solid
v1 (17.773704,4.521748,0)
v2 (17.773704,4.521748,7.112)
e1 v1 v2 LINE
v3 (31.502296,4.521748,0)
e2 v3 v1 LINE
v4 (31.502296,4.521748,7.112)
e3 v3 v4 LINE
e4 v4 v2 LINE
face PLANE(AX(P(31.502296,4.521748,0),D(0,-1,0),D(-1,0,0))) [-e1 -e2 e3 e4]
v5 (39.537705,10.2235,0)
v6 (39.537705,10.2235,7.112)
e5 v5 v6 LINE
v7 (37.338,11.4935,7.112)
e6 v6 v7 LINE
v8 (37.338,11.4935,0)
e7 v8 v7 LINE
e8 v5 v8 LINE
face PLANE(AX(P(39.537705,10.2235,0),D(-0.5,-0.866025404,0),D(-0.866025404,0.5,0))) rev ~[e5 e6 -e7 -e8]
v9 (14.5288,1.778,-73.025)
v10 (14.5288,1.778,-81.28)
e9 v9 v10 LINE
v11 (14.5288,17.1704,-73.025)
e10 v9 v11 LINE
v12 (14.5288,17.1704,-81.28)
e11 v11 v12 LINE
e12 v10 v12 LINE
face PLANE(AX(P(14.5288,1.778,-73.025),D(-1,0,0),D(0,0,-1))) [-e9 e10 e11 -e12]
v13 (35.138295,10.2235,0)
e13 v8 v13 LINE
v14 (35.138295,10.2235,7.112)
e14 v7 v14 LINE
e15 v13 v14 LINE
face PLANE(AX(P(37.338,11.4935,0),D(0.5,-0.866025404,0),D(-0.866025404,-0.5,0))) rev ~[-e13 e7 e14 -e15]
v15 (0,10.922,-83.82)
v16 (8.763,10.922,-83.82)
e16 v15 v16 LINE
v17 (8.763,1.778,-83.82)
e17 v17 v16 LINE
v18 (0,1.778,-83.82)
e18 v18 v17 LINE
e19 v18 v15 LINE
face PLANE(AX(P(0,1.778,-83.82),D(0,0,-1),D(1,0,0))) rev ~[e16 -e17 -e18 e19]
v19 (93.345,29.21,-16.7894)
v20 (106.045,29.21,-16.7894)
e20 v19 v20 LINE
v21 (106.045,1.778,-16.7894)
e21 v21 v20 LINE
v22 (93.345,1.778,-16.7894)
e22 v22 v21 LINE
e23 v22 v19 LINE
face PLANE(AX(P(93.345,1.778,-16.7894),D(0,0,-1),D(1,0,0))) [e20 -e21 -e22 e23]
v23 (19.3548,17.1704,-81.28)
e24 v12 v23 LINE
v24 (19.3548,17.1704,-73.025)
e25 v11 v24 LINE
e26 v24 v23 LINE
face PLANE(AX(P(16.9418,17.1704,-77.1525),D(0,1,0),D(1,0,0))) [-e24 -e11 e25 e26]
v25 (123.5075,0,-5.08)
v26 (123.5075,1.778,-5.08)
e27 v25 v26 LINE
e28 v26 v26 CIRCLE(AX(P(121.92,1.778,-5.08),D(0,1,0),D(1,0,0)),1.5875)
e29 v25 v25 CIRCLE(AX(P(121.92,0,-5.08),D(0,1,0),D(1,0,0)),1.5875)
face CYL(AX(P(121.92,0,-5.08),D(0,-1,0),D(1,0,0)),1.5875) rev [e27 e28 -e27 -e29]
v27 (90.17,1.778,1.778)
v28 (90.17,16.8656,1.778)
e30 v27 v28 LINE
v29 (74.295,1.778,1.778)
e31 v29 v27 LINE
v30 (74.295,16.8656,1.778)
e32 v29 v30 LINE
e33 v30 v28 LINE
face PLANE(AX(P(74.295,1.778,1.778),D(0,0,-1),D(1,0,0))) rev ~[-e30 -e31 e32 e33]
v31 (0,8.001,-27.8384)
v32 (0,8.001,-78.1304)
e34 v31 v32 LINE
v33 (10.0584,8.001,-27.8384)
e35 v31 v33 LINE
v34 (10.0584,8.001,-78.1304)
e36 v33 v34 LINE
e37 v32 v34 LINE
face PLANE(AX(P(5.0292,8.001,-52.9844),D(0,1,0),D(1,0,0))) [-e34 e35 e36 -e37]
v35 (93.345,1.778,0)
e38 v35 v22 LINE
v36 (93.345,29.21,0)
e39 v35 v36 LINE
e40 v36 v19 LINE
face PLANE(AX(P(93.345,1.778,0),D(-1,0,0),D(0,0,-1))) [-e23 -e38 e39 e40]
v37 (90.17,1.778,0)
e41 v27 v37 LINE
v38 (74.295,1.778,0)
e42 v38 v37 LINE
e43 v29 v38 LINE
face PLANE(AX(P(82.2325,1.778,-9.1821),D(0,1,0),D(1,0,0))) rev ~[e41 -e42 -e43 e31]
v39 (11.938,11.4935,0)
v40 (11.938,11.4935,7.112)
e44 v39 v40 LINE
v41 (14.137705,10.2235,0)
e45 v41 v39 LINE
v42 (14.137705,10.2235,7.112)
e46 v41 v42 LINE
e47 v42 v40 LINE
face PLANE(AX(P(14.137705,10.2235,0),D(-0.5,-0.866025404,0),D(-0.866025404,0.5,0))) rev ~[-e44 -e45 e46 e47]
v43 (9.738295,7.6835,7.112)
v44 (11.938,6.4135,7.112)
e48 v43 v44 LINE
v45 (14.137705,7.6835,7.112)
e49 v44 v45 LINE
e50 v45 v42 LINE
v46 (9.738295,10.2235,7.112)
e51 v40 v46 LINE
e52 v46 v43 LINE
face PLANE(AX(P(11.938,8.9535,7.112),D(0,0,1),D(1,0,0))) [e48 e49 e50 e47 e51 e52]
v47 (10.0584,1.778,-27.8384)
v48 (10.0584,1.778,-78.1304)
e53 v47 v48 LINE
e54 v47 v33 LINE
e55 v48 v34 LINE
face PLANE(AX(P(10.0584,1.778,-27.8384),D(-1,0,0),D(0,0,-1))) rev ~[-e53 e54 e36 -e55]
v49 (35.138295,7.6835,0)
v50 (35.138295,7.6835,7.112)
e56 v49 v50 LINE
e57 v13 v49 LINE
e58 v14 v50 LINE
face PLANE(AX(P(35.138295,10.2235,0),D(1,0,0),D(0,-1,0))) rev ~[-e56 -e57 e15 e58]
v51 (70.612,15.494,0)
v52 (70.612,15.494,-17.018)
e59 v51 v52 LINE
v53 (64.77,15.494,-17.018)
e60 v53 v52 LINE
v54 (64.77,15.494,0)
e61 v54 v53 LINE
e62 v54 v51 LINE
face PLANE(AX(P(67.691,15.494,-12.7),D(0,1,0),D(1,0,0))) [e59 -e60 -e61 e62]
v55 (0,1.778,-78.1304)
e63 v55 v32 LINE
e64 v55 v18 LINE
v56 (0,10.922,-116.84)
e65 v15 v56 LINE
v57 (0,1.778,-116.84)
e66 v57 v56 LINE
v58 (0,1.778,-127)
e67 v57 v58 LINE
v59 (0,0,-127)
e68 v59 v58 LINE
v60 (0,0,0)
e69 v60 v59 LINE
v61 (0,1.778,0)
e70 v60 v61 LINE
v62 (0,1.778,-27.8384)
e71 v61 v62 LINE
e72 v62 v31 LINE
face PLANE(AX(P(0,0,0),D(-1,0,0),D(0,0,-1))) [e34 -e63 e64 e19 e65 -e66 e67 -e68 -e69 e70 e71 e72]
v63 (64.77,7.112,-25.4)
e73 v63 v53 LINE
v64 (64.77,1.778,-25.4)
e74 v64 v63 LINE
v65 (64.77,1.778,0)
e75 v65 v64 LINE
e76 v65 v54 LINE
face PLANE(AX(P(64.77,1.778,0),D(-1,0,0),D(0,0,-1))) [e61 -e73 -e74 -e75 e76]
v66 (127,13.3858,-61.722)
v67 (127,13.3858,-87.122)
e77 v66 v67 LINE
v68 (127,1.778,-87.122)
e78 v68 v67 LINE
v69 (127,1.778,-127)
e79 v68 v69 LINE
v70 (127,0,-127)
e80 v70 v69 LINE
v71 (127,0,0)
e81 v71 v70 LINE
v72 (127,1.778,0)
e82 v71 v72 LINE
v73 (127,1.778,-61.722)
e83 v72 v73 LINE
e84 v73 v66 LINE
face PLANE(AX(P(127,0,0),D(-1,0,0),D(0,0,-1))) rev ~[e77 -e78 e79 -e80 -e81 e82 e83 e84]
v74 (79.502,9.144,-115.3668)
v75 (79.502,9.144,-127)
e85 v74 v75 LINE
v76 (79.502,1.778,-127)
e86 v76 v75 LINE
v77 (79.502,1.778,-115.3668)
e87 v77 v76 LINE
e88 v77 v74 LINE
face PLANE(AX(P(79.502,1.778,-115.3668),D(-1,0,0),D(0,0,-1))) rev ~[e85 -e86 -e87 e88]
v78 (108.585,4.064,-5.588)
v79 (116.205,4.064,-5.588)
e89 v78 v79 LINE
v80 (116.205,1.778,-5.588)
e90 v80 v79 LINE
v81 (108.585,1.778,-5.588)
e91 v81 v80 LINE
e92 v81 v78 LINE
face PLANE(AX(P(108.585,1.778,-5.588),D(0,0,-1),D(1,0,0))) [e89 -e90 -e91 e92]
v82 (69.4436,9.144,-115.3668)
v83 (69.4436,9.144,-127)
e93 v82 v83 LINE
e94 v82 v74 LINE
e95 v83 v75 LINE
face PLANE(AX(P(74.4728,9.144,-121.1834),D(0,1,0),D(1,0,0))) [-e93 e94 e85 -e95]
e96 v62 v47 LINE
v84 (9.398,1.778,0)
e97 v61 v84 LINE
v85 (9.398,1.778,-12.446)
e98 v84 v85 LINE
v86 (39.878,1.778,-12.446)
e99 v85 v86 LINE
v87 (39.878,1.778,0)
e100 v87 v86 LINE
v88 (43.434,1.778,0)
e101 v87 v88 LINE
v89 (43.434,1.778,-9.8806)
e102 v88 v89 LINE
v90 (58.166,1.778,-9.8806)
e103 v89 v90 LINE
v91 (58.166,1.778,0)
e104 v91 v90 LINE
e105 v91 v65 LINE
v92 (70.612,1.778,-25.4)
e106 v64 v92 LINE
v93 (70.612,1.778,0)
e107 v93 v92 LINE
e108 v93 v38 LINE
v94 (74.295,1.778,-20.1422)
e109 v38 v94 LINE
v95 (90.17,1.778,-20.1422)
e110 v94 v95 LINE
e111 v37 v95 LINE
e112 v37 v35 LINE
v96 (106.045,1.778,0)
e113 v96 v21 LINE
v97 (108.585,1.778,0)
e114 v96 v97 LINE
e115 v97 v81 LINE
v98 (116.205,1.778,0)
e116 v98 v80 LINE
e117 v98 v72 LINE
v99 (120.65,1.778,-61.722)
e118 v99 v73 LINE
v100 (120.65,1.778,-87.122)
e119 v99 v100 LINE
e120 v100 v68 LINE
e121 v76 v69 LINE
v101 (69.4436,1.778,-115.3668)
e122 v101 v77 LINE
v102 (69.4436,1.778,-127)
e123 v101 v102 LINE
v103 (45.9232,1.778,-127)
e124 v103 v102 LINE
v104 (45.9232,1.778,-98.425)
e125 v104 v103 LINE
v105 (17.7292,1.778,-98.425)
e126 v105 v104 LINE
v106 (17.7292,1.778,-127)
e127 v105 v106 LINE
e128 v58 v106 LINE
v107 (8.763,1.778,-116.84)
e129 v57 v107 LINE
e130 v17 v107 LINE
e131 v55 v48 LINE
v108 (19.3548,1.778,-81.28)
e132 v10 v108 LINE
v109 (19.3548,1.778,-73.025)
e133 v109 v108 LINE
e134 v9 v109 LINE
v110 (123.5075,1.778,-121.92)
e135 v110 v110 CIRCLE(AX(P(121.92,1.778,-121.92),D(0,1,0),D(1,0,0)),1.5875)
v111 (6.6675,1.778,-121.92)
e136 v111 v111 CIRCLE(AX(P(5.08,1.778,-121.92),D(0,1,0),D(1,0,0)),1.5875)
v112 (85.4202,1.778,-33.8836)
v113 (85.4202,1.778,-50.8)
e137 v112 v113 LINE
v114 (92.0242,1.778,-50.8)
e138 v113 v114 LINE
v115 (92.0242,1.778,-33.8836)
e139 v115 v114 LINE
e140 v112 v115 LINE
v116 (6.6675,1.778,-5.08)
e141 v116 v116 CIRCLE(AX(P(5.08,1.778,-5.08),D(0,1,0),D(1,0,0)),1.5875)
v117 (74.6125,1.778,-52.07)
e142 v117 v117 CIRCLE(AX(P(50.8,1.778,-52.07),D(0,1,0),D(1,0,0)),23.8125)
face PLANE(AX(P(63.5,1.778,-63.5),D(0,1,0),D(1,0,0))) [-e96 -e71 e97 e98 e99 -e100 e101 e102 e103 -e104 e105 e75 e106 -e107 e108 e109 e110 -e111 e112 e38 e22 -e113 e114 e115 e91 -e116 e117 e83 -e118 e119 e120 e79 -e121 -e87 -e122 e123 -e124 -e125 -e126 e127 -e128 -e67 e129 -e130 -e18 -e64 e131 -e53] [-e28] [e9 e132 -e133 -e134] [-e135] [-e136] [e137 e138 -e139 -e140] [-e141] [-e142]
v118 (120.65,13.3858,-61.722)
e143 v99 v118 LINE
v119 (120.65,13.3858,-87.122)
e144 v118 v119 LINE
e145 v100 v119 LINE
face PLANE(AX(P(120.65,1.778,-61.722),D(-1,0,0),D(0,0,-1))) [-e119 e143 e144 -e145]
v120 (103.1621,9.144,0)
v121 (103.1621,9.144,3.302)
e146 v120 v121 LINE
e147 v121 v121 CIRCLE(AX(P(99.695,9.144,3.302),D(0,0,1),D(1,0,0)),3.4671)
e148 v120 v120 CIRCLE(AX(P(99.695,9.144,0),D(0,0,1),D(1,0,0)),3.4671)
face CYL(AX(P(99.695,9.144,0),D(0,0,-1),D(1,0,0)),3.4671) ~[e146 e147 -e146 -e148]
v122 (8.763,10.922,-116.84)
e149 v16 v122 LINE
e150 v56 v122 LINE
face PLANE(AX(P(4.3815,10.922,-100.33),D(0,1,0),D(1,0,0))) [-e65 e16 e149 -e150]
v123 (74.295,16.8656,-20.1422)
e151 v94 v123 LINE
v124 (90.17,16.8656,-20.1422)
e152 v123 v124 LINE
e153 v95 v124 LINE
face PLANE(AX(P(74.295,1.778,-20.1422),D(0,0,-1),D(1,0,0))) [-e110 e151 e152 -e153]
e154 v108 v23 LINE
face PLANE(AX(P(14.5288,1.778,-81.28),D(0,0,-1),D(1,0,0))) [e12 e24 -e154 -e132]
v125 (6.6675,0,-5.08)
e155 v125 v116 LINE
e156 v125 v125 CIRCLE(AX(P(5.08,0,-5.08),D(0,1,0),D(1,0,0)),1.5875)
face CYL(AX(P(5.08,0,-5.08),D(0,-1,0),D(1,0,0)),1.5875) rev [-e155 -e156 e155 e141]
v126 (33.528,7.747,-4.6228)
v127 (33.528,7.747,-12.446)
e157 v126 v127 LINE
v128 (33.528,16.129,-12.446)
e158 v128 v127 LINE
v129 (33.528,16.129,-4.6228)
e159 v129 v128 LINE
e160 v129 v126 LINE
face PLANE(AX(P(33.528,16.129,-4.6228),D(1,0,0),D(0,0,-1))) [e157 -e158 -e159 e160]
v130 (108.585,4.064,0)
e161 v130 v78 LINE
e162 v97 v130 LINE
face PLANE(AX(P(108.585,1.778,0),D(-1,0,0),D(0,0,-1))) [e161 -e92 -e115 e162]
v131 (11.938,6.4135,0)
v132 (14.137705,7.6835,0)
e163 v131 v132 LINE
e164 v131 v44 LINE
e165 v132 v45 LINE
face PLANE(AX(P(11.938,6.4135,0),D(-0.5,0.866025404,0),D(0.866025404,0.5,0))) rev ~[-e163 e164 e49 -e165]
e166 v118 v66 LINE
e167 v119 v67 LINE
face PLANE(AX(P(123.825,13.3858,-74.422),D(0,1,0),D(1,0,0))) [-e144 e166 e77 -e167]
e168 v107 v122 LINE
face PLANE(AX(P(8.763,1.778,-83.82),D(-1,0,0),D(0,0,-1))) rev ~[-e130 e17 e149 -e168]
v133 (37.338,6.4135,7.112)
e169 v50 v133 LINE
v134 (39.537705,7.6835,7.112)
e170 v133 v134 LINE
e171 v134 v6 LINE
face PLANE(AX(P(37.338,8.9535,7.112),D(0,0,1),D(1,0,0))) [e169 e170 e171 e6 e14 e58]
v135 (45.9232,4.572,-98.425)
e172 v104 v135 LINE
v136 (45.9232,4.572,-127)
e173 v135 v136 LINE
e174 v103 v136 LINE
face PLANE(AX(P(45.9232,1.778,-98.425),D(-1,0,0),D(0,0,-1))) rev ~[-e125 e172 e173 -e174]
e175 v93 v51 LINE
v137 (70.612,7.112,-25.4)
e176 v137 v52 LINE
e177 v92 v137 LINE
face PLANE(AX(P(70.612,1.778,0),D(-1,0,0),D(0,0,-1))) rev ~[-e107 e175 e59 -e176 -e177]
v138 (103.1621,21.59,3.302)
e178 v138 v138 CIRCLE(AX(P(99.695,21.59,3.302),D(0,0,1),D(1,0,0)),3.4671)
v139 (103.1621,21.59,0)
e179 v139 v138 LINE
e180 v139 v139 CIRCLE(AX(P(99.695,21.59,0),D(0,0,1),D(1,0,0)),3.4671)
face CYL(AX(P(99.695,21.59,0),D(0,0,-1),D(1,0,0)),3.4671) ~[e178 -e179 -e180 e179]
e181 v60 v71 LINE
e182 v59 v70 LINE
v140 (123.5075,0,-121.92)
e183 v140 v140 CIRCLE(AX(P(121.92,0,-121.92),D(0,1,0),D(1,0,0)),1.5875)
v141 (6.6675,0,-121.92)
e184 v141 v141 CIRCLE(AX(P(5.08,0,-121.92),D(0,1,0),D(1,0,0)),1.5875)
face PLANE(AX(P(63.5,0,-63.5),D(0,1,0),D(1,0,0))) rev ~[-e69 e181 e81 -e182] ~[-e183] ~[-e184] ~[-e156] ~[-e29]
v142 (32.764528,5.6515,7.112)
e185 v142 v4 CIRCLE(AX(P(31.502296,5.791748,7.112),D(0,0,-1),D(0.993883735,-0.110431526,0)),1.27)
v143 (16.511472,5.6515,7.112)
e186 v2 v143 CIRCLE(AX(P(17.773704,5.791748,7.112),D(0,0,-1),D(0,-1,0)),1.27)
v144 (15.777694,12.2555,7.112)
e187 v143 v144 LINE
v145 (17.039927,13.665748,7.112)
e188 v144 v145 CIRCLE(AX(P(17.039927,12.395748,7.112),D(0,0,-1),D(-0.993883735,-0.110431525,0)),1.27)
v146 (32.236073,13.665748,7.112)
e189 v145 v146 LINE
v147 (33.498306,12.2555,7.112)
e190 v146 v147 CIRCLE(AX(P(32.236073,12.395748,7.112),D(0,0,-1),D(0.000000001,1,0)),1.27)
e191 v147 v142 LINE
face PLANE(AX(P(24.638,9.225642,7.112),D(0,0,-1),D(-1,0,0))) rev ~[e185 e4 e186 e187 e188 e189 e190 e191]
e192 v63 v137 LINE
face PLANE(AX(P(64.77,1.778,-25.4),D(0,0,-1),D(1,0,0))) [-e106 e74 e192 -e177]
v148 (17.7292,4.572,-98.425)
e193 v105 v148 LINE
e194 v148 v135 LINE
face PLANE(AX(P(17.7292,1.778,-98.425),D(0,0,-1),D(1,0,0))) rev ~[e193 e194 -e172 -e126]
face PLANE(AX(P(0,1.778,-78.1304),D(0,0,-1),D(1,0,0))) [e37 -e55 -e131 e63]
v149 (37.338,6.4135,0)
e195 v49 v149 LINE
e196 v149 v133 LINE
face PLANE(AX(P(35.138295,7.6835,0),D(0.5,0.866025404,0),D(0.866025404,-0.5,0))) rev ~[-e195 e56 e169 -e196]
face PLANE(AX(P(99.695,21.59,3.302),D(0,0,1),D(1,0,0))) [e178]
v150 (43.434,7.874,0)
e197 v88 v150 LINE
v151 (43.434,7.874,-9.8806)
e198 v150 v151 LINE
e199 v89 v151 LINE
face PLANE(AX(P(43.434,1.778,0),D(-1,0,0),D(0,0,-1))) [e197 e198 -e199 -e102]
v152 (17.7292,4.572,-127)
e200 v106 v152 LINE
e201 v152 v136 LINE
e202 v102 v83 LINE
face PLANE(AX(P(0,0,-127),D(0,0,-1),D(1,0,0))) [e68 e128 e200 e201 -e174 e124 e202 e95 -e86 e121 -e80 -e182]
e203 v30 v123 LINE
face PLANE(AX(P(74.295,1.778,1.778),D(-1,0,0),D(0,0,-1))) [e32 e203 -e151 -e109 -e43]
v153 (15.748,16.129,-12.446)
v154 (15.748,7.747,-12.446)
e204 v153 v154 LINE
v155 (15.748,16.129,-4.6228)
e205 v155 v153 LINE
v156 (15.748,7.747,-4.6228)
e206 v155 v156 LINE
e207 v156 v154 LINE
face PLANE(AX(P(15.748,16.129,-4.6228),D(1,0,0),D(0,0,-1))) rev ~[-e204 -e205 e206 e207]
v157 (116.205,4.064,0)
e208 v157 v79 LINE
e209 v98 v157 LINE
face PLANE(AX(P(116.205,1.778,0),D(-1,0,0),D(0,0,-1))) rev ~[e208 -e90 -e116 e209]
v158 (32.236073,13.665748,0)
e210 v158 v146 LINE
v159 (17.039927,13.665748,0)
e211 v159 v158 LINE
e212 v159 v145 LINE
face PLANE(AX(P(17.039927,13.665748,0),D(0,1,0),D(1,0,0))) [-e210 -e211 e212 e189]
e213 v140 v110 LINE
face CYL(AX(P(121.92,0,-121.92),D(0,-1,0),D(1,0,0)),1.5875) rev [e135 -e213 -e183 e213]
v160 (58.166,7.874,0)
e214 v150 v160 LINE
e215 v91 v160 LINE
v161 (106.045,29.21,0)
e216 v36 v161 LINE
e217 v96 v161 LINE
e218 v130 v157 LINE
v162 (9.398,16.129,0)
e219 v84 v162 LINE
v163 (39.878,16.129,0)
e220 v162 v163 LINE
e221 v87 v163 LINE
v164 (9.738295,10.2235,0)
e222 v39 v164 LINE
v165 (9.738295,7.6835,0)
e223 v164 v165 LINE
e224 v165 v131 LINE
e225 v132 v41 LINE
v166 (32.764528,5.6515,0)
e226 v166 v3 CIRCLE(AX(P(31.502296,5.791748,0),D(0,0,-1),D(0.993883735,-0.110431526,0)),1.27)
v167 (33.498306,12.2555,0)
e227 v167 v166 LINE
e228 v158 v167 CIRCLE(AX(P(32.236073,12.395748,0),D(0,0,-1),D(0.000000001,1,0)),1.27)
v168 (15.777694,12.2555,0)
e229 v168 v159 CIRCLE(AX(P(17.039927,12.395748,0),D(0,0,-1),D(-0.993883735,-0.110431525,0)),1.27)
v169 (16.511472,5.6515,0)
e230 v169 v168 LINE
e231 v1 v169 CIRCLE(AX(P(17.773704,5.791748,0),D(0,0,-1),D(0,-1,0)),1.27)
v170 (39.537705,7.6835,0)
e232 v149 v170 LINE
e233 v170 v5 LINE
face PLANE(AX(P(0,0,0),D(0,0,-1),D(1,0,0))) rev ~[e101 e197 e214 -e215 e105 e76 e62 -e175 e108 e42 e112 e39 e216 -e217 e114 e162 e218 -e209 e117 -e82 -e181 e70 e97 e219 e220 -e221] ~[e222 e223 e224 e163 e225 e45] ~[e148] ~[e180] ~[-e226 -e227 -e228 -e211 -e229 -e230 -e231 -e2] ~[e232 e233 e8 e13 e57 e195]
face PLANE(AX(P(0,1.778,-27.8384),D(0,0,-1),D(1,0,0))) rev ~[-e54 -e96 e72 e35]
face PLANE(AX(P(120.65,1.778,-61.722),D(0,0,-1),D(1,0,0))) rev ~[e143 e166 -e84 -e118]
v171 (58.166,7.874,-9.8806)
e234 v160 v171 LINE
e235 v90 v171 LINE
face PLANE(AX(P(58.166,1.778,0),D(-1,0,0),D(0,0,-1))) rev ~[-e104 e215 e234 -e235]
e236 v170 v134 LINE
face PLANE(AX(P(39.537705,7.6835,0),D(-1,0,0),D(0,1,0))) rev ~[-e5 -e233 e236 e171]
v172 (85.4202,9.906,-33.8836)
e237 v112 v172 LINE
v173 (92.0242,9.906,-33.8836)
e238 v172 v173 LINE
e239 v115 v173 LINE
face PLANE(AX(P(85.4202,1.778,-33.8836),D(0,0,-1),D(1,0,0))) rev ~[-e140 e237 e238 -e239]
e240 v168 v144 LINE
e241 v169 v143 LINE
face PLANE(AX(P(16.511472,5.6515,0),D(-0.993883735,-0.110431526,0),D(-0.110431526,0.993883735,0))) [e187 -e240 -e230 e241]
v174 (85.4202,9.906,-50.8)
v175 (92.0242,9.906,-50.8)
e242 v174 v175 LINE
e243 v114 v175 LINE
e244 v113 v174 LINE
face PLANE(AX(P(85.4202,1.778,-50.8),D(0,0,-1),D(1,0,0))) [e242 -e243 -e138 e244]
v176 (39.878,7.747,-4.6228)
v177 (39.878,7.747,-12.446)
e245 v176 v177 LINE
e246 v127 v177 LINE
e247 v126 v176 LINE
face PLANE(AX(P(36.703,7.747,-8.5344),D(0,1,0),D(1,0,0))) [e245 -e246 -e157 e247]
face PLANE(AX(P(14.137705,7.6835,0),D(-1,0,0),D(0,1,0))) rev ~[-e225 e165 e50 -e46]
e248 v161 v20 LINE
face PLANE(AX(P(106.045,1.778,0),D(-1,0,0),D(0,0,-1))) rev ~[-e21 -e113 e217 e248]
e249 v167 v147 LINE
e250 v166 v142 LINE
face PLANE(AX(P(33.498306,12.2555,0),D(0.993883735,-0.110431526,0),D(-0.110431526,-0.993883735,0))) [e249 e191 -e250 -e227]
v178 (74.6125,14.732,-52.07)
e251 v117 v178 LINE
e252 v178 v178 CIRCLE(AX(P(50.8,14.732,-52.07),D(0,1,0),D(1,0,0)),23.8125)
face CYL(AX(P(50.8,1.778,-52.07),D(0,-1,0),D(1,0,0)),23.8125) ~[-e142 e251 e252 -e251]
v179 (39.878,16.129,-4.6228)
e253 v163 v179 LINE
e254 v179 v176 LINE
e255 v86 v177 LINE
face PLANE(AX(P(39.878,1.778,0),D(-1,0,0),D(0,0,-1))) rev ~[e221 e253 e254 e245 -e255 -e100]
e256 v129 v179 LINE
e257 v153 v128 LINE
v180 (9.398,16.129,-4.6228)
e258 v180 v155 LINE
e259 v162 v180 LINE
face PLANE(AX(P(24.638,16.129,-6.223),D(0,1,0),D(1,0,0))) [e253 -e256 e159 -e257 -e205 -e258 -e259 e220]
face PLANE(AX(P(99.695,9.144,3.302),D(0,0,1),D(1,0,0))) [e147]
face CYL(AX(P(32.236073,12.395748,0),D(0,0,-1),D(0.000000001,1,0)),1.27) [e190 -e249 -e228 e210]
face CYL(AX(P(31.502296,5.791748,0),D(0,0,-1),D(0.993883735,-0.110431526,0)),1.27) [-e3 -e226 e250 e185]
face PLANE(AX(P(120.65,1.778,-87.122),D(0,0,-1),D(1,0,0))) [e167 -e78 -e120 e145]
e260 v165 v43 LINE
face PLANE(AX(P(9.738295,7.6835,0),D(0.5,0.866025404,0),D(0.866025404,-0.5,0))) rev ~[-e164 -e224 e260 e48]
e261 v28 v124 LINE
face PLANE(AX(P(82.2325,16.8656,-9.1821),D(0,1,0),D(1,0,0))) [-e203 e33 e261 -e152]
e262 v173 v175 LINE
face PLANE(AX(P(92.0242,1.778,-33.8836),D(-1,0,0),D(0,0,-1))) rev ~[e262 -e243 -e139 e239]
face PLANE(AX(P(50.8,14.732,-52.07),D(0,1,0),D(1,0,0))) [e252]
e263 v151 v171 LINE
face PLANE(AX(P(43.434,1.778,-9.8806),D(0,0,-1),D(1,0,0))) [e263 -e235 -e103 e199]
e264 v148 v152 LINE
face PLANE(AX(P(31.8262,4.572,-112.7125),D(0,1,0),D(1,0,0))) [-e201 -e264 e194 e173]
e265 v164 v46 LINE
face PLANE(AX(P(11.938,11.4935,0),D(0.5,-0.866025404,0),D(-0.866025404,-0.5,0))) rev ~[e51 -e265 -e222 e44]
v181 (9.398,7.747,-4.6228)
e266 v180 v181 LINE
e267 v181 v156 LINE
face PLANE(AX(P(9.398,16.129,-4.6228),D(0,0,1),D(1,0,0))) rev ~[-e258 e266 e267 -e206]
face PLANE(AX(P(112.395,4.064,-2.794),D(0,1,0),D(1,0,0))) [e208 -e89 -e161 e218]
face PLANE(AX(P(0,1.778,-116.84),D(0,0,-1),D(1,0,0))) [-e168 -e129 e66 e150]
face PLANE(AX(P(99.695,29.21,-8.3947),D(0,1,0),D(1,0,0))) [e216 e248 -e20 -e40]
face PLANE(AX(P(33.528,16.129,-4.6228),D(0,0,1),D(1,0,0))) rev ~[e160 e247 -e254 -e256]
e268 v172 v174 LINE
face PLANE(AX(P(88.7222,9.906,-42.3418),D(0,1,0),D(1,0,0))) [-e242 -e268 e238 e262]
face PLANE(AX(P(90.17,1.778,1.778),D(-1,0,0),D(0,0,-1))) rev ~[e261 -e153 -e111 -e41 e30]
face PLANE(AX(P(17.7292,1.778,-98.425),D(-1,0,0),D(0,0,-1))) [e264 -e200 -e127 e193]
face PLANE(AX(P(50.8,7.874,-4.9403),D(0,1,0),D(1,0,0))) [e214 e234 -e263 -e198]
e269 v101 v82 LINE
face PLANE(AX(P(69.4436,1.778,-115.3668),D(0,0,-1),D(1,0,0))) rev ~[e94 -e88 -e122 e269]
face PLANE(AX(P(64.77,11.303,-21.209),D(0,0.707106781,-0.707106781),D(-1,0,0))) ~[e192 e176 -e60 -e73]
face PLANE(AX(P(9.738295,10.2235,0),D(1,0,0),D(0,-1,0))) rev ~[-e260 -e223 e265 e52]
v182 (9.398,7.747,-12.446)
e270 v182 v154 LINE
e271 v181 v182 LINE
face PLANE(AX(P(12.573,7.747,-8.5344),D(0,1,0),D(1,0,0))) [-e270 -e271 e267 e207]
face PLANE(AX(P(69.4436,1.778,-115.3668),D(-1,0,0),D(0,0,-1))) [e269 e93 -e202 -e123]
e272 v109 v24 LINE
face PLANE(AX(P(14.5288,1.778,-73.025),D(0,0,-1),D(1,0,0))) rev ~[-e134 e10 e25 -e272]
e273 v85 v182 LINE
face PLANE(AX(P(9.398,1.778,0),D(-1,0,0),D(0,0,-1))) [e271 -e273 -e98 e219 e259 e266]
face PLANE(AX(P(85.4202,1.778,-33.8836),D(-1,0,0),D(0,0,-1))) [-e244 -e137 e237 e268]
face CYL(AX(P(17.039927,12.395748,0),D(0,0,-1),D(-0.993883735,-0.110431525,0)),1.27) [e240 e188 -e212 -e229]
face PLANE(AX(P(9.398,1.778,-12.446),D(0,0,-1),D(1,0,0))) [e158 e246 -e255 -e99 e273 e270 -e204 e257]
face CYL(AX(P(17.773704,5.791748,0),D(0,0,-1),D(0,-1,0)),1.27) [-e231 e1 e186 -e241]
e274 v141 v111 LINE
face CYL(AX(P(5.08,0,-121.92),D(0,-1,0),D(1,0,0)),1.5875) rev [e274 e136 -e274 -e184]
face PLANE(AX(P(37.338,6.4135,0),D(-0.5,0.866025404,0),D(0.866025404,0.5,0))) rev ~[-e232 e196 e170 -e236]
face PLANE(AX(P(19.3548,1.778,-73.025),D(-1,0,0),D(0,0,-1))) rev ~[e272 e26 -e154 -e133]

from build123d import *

# Parameters (mm, degrees)
SKETCH1_W            = 127
SKETCH1_H            = 127
SKETCH1_R            = 1.5875
BOSS_EXTRUDE1_DEPTH  = 1.778
SKETCH2_W            = 28.194
SKETCH2_H            = 28.575
BOSS_EXTRUDE2_DEPTH  = 2.794
SKETCH3_W            = 10.0584
SKETCH3_H            = 11.6332
BOSS_EXTRUDE3_DEPTH  = 7.366
SKETCH4_W            = 6.35
SKETCH4_H            = 25.4
BOSS_EXTRUDE4_DEPTH  = 11.6078
SKETCH5_W            = 8.763
SKETCH5_H            = 33.02
BOSS_EXTRUDE5_DEPTH  = 9.144
SKETCH6_W            = 10.0584
SKETCH6_H            = 50.292
BOSS_EXTRUDE6_DEPTH  = 6.223
SKETCH7_W            = 4.826
SKETCH7_H            = 8.255
BOSS_EXTRUDE7_DEPTH  = 15.3924
SKETCH8_W            = 7.62
SKETCH8_H            = 5.588
BOSS_EXTRUDE8_DEPTH  = 2.286
SKETCH9_R            = 23.8125
BOSS_EXTRUDE9_DEPTH  = 12.954
SKETCH10_W           = 12.7
SKETCH10_H           = 16.7894
BOSS_EXTRUDE10_DEPTH = 27.432
SKETCH11_R           = 3.4671
BOSS_EXTRUDE11_DEPTH = 3.302
SKETCH12_W           = 15.875
SKETCH12_H           = 21.9202
BOSS_EXTRUDE12_DEPTH = 15.0876
SKETCH13_W           = 5.842
SKETCH13_H           = 25.4
BOSS_EXTRUDE13_DEPTH = 13.716
CHAMFER1_SIZE        = 8.382
SKETCH14_W           = 14.732
SKETCH14_H           = 9.8806
BOSS_EXTRUDE14_DEPTH = 6.096
SKETCH15_W           = 6.604
SKETCH15_H           = 16.9164
BOSS_EXTRUDE15_DEPTH = 8.128
SKETCH16_W           = 30.48
SKETCH16_H           = 12.446
BOSS_EXTRUDE16_DEPTH = 14.351
SKETCH17_W           = 6.35
SKETCH17_H           = 7.8232
CUT_EXTRUDE1_DEPTH   = 8.382
BOSS_EXTRUDE17_DEPTH = 7.112


with BuildPart() as part:
    # Sketch1 → Boss-Extrude1 (new body)
    with BuildSketch(Plane(origin=(0, 0, 0), x_dir=(1, 0, 0), z_dir=(0, 1, 0))):
        with Locations((63.5, 63.5)):
            Rectangle(SKETCH1_W, SKETCH1_H)
        with Locations((5.08, 121.92)):
            Circle(SKETCH1_R, mode=Mode.SUBTRACT)
        with Locations((121.92, 121.92)):
            Circle(SKETCH1_R, mode=Mode.SUBTRACT)
        with Locations((121.92, 5.08)):
            Circle(SKETCH1_R, mode=Mode.SUBTRACT)
        with Locations((5.08, 5.08)):
            Circle(SKETCH1_R, mode=Mode.SUBTRACT)
    extrude(amount=BOSS_EXTRUDE1_DEPTH)

    # Sketch2 → Boss-Extrude2 (add)
    with BuildSketch(Plane(origin=(0, 1.778, 0), x_dir=(1, 0, 0), z_dir=(0, 1, 0))):
        with Locations((31.8262, 112.7125)):
            Rectangle(SKETCH2_W, SKETCH2_H)
    extrude(amount=BOSS_EXTRUDE2_DEPTH)

    # Sketch3 → Boss-Extrude3 (add)
    with BuildSketch(Plane(origin=(0, 1.778, 0), x_dir=(1, 0, 0), z_dir=(0, 1, 0))):
        with Locations((74.4728, 121.1834)):
            Rectangle(SKETCH3_W, SKETCH3_H)
    extrude(amount=BOSS_EXTRUDE3_DEPTH)

    # Sketch4 → Boss-Extrude4 (add)
    with BuildSketch(Plane(origin=(0, 1.778, 0), x_dir=(1, 0, 0), z_dir=(0, 1, 0))):
        with Locations((123.825, 74.422)):
            Rectangle(SKETCH4_W, SKETCH4_H)
    extrude(amount=BOSS_EXTRUDE4_DEPTH)

    # Sketch5 → Boss-Extrude5 (add)
    with BuildSketch(Plane(origin=(0, 1.778, 0), x_dir=(1, 0, 0), z_dir=(0, 1, 0))):
        with Locations((4.3815, 100.33)):
            Rectangle(SKETCH5_W, SKETCH5_H)
    extrude(amount=BOSS_EXTRUDE5_DEPTH)

    # Sketch6 → Boss-Extrude6 (add)
    with BuildSketch(Plane(origin=(0, 1.778, 0), x_dir=(1, 0, 0), z_dir=(0, 1, 0))):
        with Locations((5.0292, 52.9844)):
            Rectangle(SKETCH6_W, SKETCH6_H)
    extrude(amount=BOSS_EXTRUDE6_DEPTH)

    # Sketch7 → Boss-Extrude7 (add)
    with BuildSketch(Plane(origin=(0, 1.778, 0), x_dir=(1, 0, 0), z_dir=(0, 1, 0))):
        with Locations((16.9418, 77.1525)):
            Rectangle(SKETCH7_W, SKETCH7_H)
    extrude(amount=BOSS_EXTRUDE7_DEPTH)

    # Sketch8 → Boss-Extrude8 (add)
    with BuildSketch(Plane(origin=(0, 1.778, 0), x_dir=(1, 0, 0), z_dir=(0, 1, 0))):
        with Locations((112.395, 2.794)):
            Rectangle(SKETCH8_W, SKETCH8_H)
    extrude(amount=BOSS_EXTRUDE8_DEPTH)

    # Sketch9 → Boss-Extrude9 (add)
    with BuildSketch(Plane(origin=(0, 1.778, 0), x_dir=(1, 0, 0), z_dir=(0, 1, 0))):
        with Locations((50.8, 52.07)):
            Circle(SKETCH9_R)
    extrude(amount=BOSS_EXTRUDE9_DEPTH)

    # Sketch10 → Boss-Extrude10 (add)
    with BuildSketch(Plane(origin=(0, 1.778, 0), x_dir=(1, 0, 0), z_dir=(0, 1, 0))):
        with Locations((99.695, 8.3947)):
            Rectangle(SKETCH10_W, SKETCH10_H)
    extrude(amount=BOSS_EXTRUDE10_DEPTH)

    # Sketch11 → Boss-Extrude11 (add)
    with BuildSketch(Plane.XY):
        with Locations((99.695, 21.59)):
            Circle(SKETCH11_R)
        with Locations((99.695, 9.144)):
            Circle(SKETCH11_R)
    extrude(amount=BOSS_EXTRUDE11_DEPTH)

    # Sketch12 → Boss-Extrude12 (add)
    with BuildSketch(Plane(origin=(0, 1.778, 0), x_dir=(1, 0, 0), z_dir=(0, 1, 0))):
        with Locations((82.2325, 9.1821)):
            Rectangle(SKETCH12_W, SKETCH12_H)
    extrude(amount=BOSS_EXTRUDE12_DEPTH)

    # Sketch13 → Boss-Extrude13 (add)
    with BuildSketch(Plane(origin=(0, 1.778, 0), x_dir=(1, 0, 0), z_dir=(0, 1, 0))):
        with Locations((67.691, 12.7)):
            Rectangle(SKETCH13_W, SKETCH13_H)
    extrude(amount=BOSS_EXTRUDE13_DEPTH)

    # Chamfer1
    chamfer1_edges = [part.edges().sort_by_distance(p)[0] for p in [
        (67.691, 15.494, -25.4),
    ]]
    chamfer(chamfer1_edges, length=CHAMFER1_SIZE)

    # Sketch14 → Boss-Extrude14 (add)
    with BuildSketch(Plane(origin=(0, 1.778, 0), x_dir=(1, 0, 0), z_dir=(0, 1, 0))):
        with Locations((50.8, 4.9403)):
            Rectangle(SKETCH14_W, SKETCH14_H)
    extrude(amount=BOSS_EXTRUDE14_DEPTH)

    # Sketch15 → Boss-Extrude15 (add)
    with BuildSketch(Plane(origin=(0, 1.778, 0), x_dir=(1, 0, 0), z_dir=(0, 1, 0))):
        with Locations((88.7222, 42.3418)):
            Rectangle(SKETCH15_W, SKETCH15_H)
    extrude(amount=BOSS_EXTRUDE15_DEPTH)

    # Sketch16 → Boss-Extrude16 (add)
    with BuildSketch(Plane(origin=(0, 1.778, 0), x_dir=(1, 0, 0), z_dir=(0, 1, 0))):
        with Locations((24.638, 6.223)):
            Rectangle(SKETCH16_W, SKETCH16_H)
    extrude(amount=BOSS_EXTRUDE16_DEPTH)

    # Sketch17 → Cut-Extrude1 (cut)
    with BuildSketch(Plane(origin=(0, 16.129, 0), x_dir=(1, 0, 0), z_dir=(0, 1, 0))):
        with Locations((12.573, 8.5344)):
            Rectangle(SKETCH17_W, SKETCH17_H)
        with Locations((36.703, 8.5344)):
            Rectangle(SKETCH17_W, SKETCH17_H)
    extrude(amount=-CUT_EXTRUDE1_DEPTH, mode=Mode.SUBTRACT)

    # Sketch18 → Boss-Extrude17 (add)
    with BuildSketch(Plane.XY):
        Polygon((11.938, 11.4935), (9.738295474, 10.2235), (9.738295474, 7.6835), (11.938, 6.4135), (14.137704526, 7.6835), (14.137704526, 10.2235), align=None)
        Polygon((37.338, 11.4935), (35.138295474, 10.2235), (35.138295474, 7.6835), (37.338, 6.4135), (39.537704526, 7.6835), (39.537704526, 10.2235), align=None)
        with BuildLine():
            Line((17.039926569, 13.665748038), (32.236073431, 13.665748038))
            ThreePointArc((32.236073431, 13.665748038), (33.182386013, 13.242738295), (33.498305774, 12.2555))
            Line((33.498305774, 12.2555), (32.764527996, 5.6515))
            ThreePointArc((32.764527996, 5.6515), (32.34928591, 4.845435455), (31.502295653, 4.521748038))
            Line((31.502295653, 4.521748038), (17.773704347, 4.521748038))
            ThreePointArc((17.773704347, 4.521748038), (16.92671409, 4.845435455), (16.511472004, 5.6515))
            Line((16.511472004, 5.6515), (15.777694226, 12.2555))
            ThreePointArc((15.777694226, 12.2555), (16.093613987, 13.242738295), (17.039926569, 13.665748038))
        make_face()
    extrude(amount=BOSS_EXTRUDE17_DEPTH)


solid = part.part
